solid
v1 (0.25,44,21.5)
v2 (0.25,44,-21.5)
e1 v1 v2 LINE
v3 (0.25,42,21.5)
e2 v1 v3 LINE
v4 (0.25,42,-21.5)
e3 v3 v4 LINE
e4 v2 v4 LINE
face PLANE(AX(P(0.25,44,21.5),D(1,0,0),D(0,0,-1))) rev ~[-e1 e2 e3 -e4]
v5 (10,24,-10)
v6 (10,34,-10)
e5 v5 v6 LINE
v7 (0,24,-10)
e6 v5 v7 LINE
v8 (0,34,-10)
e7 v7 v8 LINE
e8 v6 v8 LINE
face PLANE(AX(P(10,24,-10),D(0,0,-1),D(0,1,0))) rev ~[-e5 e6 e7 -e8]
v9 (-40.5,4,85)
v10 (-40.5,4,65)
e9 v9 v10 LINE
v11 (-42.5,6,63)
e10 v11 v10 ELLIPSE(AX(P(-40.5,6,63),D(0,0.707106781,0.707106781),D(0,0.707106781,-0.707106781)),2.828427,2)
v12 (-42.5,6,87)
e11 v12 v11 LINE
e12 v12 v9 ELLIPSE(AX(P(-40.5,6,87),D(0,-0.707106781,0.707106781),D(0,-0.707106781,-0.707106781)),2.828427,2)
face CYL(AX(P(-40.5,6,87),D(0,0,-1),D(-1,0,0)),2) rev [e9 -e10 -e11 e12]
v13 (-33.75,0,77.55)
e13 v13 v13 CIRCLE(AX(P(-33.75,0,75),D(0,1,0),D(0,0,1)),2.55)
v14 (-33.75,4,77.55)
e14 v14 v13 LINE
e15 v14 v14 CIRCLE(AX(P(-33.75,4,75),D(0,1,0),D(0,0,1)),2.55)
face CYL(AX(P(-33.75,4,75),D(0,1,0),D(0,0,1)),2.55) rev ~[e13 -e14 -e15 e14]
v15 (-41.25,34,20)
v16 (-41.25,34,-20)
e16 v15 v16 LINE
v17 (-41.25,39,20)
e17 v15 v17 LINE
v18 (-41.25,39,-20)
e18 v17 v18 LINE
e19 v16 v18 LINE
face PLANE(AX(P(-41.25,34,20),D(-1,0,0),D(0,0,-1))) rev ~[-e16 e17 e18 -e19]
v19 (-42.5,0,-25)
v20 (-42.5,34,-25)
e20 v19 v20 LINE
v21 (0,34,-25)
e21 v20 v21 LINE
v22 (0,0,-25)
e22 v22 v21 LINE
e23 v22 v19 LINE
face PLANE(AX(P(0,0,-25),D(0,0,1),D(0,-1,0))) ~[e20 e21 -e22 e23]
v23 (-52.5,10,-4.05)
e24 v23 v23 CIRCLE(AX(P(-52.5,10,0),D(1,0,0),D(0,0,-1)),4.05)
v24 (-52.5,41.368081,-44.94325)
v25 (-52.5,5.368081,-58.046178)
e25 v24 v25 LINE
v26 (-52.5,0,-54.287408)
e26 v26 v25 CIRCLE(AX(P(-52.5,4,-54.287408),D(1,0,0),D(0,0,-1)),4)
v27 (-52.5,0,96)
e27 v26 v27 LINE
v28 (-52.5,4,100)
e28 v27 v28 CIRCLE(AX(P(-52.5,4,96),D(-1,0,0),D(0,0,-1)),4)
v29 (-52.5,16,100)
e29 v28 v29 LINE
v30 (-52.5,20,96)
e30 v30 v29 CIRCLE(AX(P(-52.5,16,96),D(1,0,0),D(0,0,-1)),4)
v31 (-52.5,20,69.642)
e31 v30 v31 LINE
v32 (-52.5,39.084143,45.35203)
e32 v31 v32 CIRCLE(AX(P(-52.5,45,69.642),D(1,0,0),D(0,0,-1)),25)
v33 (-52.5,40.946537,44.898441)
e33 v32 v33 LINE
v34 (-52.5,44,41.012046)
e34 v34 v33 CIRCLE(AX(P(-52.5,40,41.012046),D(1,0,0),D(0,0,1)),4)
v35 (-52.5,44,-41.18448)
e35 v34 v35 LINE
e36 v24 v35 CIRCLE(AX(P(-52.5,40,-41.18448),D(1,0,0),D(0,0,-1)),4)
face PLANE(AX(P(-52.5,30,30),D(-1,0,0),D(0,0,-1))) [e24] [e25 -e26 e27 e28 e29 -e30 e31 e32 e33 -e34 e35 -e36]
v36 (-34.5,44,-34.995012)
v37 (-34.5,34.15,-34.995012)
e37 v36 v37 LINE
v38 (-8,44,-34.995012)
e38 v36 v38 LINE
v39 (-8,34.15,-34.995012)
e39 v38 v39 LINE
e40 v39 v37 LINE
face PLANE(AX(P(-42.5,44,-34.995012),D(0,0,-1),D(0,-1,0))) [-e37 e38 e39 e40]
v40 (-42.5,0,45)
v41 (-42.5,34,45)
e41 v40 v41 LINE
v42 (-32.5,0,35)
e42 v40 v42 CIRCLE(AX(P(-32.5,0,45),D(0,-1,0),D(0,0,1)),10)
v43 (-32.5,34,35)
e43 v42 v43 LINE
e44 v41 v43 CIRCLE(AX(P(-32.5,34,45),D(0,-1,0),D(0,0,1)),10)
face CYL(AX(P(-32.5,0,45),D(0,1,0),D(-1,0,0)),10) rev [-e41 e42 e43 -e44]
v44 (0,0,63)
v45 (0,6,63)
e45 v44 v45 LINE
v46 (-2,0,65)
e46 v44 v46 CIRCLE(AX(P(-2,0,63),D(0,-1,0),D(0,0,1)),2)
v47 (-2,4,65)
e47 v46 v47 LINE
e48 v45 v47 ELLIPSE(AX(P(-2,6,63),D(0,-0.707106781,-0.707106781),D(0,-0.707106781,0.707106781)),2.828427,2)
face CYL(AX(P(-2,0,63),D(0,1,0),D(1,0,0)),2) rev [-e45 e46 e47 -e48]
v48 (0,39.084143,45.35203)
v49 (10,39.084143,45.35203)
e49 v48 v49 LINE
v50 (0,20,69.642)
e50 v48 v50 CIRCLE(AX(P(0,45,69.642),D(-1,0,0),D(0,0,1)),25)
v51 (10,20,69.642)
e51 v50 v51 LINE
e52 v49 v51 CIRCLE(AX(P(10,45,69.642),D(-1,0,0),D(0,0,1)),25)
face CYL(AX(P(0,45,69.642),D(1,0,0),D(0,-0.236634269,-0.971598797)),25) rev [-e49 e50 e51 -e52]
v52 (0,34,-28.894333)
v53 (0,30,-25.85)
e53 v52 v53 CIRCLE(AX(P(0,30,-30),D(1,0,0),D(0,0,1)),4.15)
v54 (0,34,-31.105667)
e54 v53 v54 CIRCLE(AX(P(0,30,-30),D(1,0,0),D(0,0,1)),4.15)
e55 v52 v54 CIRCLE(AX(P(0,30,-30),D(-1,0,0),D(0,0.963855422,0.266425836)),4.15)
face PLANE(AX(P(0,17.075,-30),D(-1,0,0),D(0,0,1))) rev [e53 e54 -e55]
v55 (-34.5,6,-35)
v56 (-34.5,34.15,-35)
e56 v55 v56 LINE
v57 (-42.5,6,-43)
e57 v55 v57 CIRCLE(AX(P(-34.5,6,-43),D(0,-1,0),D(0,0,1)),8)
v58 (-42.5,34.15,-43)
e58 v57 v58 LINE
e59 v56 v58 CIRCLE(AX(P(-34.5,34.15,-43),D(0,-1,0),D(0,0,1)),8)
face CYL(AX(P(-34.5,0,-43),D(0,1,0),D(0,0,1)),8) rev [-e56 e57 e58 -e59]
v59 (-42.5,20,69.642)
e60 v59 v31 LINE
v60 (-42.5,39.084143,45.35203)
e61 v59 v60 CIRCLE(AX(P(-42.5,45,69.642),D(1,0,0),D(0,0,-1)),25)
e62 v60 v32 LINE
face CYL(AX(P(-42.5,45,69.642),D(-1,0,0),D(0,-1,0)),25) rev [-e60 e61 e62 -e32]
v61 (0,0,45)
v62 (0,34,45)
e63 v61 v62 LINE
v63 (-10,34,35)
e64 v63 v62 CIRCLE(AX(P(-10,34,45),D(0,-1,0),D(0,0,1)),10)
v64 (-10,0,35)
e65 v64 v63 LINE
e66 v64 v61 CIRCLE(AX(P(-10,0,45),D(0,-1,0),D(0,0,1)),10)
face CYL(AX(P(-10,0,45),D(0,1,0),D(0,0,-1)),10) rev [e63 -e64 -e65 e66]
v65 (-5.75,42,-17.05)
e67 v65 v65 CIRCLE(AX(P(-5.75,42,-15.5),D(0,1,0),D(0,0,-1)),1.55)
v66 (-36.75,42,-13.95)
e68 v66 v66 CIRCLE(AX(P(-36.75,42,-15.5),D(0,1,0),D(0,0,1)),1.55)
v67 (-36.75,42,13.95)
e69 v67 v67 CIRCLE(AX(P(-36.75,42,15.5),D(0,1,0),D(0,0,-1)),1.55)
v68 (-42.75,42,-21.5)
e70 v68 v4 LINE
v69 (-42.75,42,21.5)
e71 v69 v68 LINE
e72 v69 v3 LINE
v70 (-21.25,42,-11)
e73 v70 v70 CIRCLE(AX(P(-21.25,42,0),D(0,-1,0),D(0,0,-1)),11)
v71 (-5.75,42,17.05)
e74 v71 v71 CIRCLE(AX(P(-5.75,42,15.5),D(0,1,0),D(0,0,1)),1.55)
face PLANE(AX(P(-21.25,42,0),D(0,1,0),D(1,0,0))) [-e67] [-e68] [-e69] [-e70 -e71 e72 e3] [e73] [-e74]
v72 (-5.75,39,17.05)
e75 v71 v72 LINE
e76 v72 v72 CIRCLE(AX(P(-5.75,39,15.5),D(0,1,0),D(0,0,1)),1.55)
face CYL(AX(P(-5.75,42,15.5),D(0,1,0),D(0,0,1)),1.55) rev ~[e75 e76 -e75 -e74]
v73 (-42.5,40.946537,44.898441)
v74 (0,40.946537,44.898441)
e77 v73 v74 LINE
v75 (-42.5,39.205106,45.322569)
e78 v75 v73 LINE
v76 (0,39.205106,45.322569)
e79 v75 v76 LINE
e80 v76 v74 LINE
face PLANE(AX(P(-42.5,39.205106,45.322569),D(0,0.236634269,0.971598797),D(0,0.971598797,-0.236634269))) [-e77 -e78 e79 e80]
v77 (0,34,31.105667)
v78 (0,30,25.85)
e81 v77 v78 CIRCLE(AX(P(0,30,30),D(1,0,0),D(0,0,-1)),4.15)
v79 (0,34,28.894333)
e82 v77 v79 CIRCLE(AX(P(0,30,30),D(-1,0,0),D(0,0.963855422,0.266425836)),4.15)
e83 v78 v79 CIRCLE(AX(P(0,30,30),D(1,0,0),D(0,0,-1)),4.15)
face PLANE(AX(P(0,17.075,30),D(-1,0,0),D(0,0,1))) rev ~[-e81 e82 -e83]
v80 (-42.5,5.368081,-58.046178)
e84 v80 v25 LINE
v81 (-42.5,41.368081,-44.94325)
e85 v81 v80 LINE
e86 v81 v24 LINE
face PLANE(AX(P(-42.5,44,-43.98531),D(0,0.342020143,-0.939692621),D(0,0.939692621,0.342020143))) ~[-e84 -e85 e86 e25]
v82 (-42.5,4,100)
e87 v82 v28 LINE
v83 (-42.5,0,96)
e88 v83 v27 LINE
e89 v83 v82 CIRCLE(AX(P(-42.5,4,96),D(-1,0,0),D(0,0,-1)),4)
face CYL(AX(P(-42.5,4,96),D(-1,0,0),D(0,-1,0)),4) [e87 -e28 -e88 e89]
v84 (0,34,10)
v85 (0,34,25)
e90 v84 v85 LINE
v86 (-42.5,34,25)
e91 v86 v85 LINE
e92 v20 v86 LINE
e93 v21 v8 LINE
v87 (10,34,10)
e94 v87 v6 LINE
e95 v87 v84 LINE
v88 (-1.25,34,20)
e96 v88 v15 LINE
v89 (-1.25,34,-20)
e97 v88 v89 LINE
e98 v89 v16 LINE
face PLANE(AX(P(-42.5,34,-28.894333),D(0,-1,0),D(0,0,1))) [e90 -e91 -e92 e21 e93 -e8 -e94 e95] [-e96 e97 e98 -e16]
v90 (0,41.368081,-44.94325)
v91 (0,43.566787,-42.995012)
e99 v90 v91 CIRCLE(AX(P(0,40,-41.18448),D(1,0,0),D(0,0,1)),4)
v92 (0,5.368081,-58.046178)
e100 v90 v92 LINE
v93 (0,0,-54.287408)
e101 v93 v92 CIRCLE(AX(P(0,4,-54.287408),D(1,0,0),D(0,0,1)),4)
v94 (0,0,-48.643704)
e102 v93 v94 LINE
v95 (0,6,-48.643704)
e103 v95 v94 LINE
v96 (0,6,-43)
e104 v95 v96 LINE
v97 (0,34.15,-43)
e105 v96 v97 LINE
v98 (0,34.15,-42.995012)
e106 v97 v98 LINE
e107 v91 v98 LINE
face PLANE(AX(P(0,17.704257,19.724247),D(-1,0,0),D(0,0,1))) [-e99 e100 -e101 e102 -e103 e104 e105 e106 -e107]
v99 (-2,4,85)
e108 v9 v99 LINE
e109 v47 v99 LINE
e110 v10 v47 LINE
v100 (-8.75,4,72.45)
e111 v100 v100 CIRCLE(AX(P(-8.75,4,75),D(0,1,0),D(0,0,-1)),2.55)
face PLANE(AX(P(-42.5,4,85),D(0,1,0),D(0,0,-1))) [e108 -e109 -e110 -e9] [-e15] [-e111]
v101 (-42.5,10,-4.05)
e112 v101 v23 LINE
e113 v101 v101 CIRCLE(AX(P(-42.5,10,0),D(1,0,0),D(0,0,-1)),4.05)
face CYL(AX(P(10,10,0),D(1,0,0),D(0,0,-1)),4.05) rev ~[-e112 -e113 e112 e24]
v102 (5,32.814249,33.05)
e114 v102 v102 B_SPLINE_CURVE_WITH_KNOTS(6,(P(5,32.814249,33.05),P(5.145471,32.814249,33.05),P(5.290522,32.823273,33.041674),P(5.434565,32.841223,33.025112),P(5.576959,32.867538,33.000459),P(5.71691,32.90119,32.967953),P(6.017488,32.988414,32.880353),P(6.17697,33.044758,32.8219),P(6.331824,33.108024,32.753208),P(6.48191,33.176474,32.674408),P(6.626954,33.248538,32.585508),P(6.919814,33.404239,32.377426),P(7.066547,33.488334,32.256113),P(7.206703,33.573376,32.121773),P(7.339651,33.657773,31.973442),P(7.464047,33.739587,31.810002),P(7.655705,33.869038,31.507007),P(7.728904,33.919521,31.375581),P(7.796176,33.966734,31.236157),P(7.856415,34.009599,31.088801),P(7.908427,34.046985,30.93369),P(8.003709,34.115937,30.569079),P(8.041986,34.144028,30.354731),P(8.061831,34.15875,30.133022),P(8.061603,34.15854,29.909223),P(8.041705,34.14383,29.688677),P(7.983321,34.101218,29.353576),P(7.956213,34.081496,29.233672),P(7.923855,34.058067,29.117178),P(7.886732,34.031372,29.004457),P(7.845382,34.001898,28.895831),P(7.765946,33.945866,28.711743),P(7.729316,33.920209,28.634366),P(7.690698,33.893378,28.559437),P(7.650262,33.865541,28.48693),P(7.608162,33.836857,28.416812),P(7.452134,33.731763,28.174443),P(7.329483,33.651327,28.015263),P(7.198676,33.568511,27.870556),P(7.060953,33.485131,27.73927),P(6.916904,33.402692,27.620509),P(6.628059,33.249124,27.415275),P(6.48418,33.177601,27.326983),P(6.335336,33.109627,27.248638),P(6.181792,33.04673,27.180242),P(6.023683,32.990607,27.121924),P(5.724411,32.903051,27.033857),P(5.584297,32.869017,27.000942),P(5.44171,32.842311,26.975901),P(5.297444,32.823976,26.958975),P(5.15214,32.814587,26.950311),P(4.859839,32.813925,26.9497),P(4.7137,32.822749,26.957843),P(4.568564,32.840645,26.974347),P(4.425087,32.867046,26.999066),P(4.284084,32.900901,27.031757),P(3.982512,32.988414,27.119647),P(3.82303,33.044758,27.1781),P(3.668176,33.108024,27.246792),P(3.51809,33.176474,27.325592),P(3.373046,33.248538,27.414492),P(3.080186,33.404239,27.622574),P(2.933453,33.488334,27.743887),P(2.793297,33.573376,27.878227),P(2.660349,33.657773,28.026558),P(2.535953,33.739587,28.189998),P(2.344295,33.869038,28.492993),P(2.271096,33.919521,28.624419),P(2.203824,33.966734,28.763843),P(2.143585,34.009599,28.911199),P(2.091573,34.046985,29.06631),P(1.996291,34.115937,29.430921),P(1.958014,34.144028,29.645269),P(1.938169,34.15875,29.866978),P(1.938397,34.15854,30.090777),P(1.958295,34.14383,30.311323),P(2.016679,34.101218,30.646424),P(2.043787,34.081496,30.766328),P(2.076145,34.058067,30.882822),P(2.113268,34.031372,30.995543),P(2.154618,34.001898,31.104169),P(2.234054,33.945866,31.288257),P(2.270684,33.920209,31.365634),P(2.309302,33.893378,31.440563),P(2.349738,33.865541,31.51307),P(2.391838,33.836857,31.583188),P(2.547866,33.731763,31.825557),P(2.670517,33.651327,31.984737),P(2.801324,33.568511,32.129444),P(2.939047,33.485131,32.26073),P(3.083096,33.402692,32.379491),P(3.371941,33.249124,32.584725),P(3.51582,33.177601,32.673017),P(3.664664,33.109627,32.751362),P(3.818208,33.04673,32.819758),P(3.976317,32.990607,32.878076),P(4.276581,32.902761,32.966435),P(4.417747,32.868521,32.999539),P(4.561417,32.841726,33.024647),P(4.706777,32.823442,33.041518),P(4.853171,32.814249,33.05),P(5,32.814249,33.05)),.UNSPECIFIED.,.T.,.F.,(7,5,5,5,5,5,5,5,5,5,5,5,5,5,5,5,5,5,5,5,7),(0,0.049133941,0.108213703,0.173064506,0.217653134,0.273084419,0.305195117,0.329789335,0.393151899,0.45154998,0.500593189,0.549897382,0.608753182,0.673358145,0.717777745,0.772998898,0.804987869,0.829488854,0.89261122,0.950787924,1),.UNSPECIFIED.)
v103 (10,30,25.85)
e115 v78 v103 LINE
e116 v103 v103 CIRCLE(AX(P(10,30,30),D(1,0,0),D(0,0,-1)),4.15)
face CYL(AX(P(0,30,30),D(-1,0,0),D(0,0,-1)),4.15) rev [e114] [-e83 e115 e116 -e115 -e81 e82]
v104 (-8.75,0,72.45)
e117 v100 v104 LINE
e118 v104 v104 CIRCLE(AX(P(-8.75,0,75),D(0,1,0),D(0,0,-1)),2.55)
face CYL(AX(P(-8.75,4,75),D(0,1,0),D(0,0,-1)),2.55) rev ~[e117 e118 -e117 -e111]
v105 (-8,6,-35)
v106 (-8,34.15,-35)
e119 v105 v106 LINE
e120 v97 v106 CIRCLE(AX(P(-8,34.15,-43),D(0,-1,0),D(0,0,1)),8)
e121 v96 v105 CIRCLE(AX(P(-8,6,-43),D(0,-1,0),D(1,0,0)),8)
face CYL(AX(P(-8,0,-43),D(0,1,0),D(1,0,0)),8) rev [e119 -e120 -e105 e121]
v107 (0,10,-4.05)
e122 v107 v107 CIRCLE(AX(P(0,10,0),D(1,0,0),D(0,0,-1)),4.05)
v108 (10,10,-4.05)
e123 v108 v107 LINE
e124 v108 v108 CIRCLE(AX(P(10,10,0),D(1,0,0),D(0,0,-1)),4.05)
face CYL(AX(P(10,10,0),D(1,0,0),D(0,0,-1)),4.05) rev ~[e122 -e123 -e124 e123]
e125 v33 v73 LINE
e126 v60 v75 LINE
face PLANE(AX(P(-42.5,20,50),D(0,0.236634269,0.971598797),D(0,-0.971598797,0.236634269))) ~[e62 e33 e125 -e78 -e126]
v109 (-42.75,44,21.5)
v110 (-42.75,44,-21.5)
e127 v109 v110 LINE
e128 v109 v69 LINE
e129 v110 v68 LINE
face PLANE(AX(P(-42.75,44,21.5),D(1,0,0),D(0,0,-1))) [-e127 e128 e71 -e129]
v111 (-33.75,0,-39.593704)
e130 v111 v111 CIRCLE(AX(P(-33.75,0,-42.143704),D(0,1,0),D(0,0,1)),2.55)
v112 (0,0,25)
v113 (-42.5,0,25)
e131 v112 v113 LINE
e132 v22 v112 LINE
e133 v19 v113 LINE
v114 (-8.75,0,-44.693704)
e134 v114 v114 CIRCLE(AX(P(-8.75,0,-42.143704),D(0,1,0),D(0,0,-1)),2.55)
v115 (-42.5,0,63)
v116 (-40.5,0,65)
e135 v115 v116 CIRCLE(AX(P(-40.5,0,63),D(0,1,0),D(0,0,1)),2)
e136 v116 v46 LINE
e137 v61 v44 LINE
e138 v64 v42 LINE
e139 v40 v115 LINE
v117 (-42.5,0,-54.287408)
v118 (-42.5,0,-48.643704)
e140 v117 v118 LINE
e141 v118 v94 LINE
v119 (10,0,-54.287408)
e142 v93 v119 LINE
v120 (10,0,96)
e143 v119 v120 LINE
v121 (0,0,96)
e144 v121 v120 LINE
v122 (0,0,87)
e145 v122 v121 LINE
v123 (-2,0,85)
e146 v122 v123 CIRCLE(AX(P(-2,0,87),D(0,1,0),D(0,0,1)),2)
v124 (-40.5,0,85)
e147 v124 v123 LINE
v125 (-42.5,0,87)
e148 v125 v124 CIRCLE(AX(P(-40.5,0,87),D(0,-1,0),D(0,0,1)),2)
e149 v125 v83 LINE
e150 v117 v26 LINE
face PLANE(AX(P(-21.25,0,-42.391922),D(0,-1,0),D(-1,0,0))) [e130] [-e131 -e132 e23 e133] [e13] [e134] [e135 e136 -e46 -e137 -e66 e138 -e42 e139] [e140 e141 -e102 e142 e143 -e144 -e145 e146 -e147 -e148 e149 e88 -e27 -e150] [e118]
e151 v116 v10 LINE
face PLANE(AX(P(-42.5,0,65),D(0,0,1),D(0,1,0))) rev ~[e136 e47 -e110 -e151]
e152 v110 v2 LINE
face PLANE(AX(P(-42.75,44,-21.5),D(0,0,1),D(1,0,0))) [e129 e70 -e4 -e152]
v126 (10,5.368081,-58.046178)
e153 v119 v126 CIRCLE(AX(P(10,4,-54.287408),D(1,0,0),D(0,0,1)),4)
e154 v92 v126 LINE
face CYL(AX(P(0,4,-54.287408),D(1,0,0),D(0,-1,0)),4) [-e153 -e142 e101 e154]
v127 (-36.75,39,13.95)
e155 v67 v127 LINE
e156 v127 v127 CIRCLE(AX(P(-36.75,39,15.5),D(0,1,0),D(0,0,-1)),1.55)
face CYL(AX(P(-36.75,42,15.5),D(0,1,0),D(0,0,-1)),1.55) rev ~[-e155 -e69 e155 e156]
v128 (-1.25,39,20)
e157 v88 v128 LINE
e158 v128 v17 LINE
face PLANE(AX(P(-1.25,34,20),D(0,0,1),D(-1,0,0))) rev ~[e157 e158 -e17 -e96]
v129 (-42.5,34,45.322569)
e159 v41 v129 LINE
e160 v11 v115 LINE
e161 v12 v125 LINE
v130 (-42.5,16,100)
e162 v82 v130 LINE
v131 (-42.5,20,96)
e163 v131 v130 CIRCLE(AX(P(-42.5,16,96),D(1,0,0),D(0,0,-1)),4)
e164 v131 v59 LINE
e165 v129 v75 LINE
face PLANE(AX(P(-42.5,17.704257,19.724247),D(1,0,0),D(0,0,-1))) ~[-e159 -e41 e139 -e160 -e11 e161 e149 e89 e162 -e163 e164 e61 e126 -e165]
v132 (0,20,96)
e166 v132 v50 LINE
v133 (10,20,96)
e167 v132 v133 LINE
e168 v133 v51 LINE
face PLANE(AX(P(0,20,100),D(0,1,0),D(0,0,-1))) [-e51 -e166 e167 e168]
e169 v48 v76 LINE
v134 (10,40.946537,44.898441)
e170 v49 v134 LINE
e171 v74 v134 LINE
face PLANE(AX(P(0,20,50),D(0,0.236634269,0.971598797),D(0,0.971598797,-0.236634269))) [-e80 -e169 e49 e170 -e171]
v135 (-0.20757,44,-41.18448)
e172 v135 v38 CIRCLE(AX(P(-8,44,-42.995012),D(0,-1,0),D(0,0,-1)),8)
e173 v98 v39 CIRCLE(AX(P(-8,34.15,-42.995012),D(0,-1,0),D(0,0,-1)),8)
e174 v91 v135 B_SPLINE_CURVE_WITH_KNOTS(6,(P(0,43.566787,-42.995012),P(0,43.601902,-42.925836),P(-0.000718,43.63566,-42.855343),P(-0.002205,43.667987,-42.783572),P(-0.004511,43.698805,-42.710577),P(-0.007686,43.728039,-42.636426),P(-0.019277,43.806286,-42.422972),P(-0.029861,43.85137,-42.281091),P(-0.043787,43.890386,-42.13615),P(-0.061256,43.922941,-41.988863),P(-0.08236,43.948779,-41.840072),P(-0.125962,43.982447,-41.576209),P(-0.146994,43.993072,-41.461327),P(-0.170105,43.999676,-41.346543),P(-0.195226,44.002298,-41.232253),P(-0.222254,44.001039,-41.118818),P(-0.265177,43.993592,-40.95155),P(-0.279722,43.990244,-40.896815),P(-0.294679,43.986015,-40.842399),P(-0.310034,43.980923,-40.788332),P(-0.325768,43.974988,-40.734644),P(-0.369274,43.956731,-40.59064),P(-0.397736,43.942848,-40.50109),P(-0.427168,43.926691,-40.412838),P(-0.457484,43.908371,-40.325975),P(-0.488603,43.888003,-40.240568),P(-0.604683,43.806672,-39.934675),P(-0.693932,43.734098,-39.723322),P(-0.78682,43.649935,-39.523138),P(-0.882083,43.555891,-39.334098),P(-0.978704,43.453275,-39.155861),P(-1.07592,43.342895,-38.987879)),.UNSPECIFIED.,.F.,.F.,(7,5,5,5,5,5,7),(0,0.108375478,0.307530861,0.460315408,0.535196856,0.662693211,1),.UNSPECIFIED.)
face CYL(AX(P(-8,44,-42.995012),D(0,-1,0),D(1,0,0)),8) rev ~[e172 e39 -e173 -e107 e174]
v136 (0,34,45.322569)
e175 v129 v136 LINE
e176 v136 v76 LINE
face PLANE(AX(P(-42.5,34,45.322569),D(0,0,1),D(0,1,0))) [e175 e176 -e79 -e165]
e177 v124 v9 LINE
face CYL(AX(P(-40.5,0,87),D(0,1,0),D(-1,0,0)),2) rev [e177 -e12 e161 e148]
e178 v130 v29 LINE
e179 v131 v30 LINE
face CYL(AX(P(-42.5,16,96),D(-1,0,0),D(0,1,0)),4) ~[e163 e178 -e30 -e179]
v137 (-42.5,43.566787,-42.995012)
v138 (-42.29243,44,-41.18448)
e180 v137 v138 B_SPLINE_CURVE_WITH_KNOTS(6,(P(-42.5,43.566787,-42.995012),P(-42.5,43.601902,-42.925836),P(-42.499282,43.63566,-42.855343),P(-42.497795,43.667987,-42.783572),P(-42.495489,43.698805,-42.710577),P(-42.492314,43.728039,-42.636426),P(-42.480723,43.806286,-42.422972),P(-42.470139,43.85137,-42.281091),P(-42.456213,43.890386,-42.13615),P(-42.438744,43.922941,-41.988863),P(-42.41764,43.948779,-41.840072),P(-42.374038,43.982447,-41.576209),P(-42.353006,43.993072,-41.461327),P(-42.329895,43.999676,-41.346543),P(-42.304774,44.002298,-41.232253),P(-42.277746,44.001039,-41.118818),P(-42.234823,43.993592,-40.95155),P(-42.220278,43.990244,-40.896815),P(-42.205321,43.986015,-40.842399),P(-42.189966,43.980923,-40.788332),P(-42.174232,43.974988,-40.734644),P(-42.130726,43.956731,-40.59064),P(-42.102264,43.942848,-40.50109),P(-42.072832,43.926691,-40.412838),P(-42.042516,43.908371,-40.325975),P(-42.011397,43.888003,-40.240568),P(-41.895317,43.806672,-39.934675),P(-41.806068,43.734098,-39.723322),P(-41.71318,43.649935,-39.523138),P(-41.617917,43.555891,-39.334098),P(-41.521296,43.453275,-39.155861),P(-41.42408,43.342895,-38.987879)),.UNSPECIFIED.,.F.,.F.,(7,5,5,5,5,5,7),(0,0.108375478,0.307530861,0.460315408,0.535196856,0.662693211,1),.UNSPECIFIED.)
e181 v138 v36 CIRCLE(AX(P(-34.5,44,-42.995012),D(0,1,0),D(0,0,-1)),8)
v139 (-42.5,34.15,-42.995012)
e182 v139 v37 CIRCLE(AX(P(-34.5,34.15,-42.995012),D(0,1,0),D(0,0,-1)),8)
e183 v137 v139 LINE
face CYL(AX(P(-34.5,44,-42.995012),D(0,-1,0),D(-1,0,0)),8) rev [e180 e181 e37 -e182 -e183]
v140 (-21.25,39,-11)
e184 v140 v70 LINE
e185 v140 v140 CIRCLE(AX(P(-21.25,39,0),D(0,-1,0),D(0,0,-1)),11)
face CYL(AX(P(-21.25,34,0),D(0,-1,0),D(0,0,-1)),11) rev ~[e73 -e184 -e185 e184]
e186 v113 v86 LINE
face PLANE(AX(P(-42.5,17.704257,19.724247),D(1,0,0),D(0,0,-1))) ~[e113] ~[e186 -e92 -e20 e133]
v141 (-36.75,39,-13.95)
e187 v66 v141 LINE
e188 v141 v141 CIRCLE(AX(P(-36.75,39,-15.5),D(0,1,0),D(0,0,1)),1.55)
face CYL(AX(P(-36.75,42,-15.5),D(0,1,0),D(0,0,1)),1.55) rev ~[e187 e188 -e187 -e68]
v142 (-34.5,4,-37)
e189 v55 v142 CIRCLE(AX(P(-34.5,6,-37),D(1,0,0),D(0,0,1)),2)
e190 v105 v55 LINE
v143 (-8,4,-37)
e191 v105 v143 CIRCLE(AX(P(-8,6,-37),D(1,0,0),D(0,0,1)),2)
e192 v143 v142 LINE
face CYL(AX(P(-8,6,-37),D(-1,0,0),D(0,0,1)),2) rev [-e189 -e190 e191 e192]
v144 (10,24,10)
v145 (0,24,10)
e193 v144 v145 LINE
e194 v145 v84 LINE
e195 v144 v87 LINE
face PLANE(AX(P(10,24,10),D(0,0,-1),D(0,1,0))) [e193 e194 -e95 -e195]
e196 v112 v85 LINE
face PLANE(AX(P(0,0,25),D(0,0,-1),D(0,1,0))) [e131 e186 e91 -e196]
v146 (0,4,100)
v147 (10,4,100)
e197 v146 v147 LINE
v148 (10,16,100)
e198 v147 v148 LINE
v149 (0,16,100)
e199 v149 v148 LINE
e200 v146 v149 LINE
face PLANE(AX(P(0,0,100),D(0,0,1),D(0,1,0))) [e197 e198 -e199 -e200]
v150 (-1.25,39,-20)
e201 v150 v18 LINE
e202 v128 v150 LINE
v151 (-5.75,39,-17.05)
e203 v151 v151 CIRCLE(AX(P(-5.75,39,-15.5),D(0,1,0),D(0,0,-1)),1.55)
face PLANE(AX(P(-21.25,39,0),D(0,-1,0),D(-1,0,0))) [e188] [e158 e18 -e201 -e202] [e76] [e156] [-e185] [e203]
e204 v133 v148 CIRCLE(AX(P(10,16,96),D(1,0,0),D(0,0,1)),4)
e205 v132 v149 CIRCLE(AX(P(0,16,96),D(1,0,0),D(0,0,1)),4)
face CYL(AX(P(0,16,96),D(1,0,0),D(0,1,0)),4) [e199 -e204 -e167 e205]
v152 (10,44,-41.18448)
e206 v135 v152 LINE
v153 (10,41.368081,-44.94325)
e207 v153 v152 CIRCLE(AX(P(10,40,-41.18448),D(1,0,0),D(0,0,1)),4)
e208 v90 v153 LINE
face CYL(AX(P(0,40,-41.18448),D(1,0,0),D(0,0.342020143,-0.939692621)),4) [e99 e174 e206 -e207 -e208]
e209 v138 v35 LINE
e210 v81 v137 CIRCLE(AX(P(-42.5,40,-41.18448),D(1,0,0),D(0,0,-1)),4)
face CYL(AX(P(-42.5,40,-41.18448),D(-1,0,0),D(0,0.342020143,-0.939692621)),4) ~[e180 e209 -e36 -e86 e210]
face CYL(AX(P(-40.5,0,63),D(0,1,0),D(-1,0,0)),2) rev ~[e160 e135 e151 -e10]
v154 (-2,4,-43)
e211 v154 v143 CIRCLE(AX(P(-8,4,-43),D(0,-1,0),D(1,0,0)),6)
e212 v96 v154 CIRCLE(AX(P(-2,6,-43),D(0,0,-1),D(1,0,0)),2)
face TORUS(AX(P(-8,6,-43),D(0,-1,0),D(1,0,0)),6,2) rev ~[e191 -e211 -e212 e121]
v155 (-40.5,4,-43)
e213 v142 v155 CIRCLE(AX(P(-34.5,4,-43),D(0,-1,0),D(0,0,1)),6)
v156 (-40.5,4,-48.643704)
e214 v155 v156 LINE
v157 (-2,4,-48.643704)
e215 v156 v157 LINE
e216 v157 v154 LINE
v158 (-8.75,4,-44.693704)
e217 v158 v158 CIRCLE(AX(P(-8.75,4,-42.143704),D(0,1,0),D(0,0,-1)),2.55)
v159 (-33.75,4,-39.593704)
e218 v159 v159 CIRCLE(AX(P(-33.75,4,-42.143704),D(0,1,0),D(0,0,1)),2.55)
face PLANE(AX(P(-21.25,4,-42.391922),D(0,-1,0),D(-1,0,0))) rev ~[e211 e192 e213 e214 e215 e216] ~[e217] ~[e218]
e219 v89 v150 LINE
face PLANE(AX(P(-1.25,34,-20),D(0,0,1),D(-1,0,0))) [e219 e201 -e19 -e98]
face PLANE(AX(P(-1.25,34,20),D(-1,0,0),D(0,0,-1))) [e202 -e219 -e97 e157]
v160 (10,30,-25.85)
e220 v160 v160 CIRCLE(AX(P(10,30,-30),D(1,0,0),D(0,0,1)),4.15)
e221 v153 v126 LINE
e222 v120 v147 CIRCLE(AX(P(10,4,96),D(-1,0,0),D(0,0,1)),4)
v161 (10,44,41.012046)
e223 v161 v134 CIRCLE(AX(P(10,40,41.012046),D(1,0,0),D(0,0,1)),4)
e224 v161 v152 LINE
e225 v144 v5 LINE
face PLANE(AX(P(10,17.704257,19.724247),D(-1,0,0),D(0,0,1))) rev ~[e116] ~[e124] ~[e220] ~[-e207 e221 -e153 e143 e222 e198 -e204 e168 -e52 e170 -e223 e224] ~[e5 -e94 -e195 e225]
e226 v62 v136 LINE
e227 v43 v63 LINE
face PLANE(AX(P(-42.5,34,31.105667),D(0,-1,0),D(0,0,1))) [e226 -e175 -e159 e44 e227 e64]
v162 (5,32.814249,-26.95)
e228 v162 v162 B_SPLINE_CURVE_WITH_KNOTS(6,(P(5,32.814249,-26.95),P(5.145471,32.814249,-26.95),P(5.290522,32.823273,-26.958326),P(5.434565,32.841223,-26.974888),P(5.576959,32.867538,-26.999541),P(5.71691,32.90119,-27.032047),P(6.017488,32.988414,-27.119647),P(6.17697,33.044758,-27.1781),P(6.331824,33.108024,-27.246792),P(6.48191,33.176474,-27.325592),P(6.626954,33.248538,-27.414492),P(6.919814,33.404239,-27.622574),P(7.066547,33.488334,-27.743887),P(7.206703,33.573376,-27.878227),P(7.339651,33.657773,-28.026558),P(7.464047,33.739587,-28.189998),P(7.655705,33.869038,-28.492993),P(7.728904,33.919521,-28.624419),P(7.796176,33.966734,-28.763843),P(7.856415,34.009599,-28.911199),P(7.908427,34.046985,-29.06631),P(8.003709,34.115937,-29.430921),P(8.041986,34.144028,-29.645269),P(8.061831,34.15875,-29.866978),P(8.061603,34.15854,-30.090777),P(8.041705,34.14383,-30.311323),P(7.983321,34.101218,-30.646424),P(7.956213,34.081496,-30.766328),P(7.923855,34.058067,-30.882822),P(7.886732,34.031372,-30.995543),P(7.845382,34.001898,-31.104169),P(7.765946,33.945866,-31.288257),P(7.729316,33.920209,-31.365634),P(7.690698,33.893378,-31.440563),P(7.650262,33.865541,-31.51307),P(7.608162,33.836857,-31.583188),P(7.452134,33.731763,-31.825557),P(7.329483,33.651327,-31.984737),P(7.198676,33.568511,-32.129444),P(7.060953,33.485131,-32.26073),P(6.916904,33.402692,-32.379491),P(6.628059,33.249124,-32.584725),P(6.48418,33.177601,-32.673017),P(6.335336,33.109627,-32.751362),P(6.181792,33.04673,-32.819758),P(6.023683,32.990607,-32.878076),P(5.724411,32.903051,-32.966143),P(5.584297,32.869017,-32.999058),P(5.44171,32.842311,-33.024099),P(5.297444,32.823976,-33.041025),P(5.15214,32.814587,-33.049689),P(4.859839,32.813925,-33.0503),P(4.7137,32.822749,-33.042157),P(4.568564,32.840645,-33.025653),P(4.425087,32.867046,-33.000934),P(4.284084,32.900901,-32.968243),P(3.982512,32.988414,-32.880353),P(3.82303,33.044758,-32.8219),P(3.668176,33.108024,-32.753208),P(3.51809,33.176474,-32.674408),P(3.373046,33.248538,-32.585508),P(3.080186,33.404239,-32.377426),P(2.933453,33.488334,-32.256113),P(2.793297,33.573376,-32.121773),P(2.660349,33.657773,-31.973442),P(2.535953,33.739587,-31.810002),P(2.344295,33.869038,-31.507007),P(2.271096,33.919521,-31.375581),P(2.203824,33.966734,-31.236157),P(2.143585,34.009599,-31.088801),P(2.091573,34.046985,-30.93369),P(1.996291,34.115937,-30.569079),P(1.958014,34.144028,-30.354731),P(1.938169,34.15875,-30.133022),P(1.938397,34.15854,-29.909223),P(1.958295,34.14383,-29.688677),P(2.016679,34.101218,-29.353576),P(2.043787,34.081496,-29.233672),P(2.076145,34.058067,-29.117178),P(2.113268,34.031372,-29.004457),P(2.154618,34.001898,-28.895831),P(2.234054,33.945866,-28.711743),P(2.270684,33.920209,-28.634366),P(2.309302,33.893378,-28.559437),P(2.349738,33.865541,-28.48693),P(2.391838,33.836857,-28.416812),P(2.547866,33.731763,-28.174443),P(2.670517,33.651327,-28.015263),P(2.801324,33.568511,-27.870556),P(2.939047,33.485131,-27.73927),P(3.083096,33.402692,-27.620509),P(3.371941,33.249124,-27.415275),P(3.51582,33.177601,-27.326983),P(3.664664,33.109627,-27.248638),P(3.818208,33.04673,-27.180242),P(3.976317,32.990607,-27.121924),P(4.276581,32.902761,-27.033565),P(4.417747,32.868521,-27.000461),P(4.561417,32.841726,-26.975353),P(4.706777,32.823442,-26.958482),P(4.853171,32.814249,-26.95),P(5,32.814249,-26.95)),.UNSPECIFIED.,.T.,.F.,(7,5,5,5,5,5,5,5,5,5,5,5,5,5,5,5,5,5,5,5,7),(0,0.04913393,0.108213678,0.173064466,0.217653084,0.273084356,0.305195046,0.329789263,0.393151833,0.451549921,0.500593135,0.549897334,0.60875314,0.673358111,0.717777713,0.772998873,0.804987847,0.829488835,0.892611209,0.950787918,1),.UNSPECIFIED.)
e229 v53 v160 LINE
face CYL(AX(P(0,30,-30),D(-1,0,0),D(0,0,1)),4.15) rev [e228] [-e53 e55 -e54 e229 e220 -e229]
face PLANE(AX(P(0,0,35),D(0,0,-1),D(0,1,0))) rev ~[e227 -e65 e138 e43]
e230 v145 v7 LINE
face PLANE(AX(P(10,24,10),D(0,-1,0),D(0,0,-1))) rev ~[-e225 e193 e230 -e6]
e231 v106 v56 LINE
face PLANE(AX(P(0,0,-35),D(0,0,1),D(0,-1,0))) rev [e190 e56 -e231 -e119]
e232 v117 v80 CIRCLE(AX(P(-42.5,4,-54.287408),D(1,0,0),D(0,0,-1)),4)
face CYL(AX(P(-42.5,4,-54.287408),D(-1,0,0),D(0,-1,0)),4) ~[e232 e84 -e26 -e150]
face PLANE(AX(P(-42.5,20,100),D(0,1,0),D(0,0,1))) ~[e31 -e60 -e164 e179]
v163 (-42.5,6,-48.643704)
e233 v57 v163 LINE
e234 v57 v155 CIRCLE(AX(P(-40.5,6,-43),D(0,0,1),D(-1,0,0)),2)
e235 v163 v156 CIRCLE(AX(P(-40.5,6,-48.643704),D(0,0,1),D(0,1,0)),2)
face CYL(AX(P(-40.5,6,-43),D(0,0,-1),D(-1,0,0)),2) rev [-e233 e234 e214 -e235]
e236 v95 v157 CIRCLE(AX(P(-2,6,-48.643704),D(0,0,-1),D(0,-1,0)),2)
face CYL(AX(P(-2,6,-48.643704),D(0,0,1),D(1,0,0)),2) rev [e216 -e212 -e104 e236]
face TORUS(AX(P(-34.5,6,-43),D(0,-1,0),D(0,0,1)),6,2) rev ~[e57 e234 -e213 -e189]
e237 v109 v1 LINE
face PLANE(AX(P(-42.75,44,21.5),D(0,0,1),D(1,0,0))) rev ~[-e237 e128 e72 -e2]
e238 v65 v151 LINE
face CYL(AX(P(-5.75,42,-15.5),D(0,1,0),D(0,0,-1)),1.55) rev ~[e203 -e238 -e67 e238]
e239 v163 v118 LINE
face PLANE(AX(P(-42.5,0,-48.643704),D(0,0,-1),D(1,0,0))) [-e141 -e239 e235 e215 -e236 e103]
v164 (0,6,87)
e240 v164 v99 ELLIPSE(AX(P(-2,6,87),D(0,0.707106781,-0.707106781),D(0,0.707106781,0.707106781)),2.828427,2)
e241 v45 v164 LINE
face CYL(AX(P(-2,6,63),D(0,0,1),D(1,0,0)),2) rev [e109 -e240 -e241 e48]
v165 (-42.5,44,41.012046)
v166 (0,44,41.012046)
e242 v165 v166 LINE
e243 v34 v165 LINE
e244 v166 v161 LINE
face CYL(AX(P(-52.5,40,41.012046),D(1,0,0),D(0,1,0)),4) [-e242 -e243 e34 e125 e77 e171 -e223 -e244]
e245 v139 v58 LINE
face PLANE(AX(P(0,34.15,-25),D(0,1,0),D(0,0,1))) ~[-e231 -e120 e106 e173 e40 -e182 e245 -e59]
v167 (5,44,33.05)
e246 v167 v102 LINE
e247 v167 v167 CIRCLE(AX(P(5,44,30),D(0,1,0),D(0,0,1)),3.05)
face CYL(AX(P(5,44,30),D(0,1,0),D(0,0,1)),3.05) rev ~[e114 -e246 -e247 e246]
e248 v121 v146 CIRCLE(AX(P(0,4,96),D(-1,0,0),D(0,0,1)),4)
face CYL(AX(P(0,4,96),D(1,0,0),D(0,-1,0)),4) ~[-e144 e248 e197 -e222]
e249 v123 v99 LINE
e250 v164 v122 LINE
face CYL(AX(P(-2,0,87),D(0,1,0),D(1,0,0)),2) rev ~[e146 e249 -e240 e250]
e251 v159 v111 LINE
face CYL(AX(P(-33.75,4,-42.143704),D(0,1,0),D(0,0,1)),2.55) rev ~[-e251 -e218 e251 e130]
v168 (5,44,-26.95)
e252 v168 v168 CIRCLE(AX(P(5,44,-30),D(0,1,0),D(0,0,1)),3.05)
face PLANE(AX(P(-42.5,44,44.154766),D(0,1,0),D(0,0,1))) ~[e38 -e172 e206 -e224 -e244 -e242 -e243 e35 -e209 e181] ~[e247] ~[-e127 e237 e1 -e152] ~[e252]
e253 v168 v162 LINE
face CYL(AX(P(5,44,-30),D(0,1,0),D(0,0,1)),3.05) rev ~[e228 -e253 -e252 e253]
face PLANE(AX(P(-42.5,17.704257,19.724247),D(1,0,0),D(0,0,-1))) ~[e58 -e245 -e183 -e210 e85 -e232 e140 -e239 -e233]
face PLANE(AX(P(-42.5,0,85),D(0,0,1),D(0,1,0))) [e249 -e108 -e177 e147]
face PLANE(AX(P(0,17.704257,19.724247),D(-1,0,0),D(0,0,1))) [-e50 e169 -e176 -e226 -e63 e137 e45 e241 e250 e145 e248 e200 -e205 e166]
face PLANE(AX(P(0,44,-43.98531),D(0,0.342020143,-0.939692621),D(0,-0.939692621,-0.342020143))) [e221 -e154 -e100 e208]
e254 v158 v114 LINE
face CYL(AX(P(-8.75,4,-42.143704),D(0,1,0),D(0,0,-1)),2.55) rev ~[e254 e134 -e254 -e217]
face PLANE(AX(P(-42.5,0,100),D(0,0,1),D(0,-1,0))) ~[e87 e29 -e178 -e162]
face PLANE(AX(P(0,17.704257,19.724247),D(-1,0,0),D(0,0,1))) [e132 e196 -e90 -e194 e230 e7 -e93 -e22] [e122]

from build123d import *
from build123d.topology import SkipClean

# Parameters (mm, degrees)
SKETCH3_R            = 4.15
BOSS_EXTRUDE2_DEPTH  = 10
FILLET1_R            = 4
BOSS_EXTRUDE3_START  = 42.5
BOSS_EXTRUDE3_DEPTH  = 42.5
FILLET1_OF_MIRROR1_R = 4
SKETCH5_W            = 20
SKETCH5_H            = 10
CUT_EXTRUDE1_DEPTH   = 10
SKETCH6_R            = 11
CUT_EXTRUDE2_DEPTH   = 10
SKETCH7_W            = 43
SKETCH7_H            = 43
CUT_EXTRUDE3_DEPTH   = 2
SKETCH8_R            = 1.55
CUT_EXTRUDE4_DEPTH   = 5
SKETCH9_W            = 10
SKETCH9_H            = 34.15
BOSS_EXTRUDE4_DEPTH  = 42.5
FILLET2_R            = 10
FILLET3_R            = 8
SKETCH10_R           = 4.15
BOSS_EXTRUDE5_DEPTH  = 10
SKETCH11_R           = 4.05
CUT_EXTRUDE5_DEPTH   = 77
FILLET4_R            = 25
FILLET5_R            = 4
FILLET6_R            = 4
SKETCH13_R           = 3.05
CUT_EXTRUDE6_DEPTH   = 12
SKETCH14_W           = 20
SKETCH14_H           = 4
BOSS_EXTRUDE6_DEPTH  = 42.5
FILLET7_R            = 2
SKETCH16_W           = 40
SKETCH16_H           = 40
CUT_EXTRUDE8_DEPTH   = 5
FILLET9_R            = 2
BOSS_EXTRUDE7_DEPTH  = 4
FILLET10_R           = 8
SKETCH18_R           = 2.55
CUT_EXTRUDE9_DEPTH   = 120.81756974
FILLET11_R           = 2


with BuildPart() as part:
    # Sketch3 → Boss-Extrude2 (new body)
    with BuildSketch(Plane(origin=(0, 0, 0), x_dir=(0, 0, -1), z_dir=(1, 0, 0))):
        Polygon((60, 0), (-100, 0), (-100, 20), (-50, 20), (-44.154765862, 44), (43.985309692, 44), align=None)
        with Locations((-30, 30)):
            Circle(SKETCH3_R, mode=Mode.SUBTRACT)
        with Locations(Location((30, 30, 0), (0, 0, 180))):
            Circle(SKETCH3_R, mode=Mode.SUBTRACT)
    boss_extrude2 = extrude(amount=BOSS_EXTRUDE2_DEPTH)

    # Fillet1
    fillet1_edges = [part.edges().sort_by_distance(p)[0] for p in [
        (5, 0, -60),
        (5, 0, 100),
        (5, 44, -43.985309692),
    ]]
    fillet(fillet1_edges, radius=FILLET1_R)

    # Sketch4 → Boss-Extrude3 (add)
    with BuildSketch(Plane.ZY.offset(BOSS_EXTRUDE3_START)):
        with BuildLine():
            Line((-34.995012035, 44), (-34.995012035, 34))
            Line((-34.995012035, 34), (-31.105667219, 34))
            ThreePointArc((-31.105667219, 34), (-30, 34.15), (-28.894332781, 34))
            Line((-28.894332781, 34), (28.894332781, 34))
            ThreePointArc((28.894332781, 34), (30, 34.15), (31.105667219, 34))
            Line((31.105667219, 34), (45.322569059, 34))
            Line((45.322569059, 34), (45.322569059, 39.205106235))
            Line((45.322569059, 39.205106235), (44.154765862, 44))
            Line((44.154765862, 44), (-34.995012035, 44))
        make_face()
    extrude(amount=-BOSS_EXTRUDE3_DEPTH)

    # Mirror1: Boss-Extrude2 across plane
    add(boss_extrude2.mirror(Plane.ZY.offset(21.25)))

    # Fillet1 of Mirror1
    fillet1_of_mirror1_edges = [part.edges().sort_by_distance(p)[0] for p in [
        (-47.5, 0, -60),
        (-47.5, 0, 100),
        (-47.5, 44, -43.985309692),
    ]]
    fillet(fillet1_of_mirror1_edges, radius=FILLET1_OF_MIRROR1_R)

    # Sketch5 → Cut-Extrude1 (cut)
    with SkipClean():  # the faces are left unmerged after this step: merging them gives an invalid solid
        with BuildSketch(Plane(origin=(10, 0, 0), x_dir=(0, 0, -1), z_dir=(1, 0, 0))):
            with Locations((0, 29)):
                Rectangle(SKETCH5_W, SKETCH5_H)
        extrude(amount=-CUT_EXTRUDE1_DEPTH, mode=Mode.SUBTRACT)

    # Sketch6 → Cut-Extrude2 (cut)
    with SkipClean():  # the faces are left unmerged after this step: merging them gives an invalid solid
        with BuildSketch(Plane.XZ.offset(-34)):
            with Locations(Location((-21.25, 0, 0), (0, 0, 270))):
                Circle(SKETCH6_R)
        extrude(amount=-CUT_EXTRUDE2_DEPTH, mode=Mode.SUBTRACT)

    # Sketch7 → Cut-Extrude3 (cut)
    with SkipClean():  # the faces are left unmerged after this step: merging them gives an invalid solid
        with BuildSketch(Plane(origin=(0, 44, 0), x_dir=(1, 0, 0), z_dir=(0, 1, 0))):
            with Locations((-21.25, 0)):
                Rectangle(SKETCH7_W, SKETCH7_H)
        extrude(amount=-CUT_EXTRUDE3_DEPTH, mode=Mode.SUBTRACT)

    # Sketch8 → Cut-Extrude4 (cut)
    with SkipClean():  # the faces are left unmerged after this step: merging them gives an invalid solid
        with BuildSketch(Plane(origin=(0, 42, 0), x_dir=(1, 0, 0), z_dir=(0, 1, 0))):
            with Locations(Location((-36.75, 15.5, 0), (0, 0, 270))):
                Circle(SKETCH8_R)
            with Locations(Location((-5.75, 15.5, 0), (0, 0, 90))):
                Circle(SKETCH8_R)
            with Locations(Location((-5.75, -15.5, 0), (0, 0, 270))):
                Circle(SKETCH8_R)
            with Locations(Location((-36.75, -15.5, 0), (0, 0, 90))):
                Circle(SKETCH8_R)
        extrude(amount=-CUT_EXTRUDE4_DEPTH, mode=Mode.SUBTRACT)

    # Sketch9 → Boss-Extrude4 (add)
    with SkipClean():  # the faces are left unmerged after this step: merging them gives an invalid solid
        with BuildSketch(Plane.ZY):
            with Locations((30, 17.075)):
                Rectangle(SKETCH9_W, SKETCH9_H)
        boss_extrude4 = extrude(amount=BOSS_EXTRUDE4_DEPTH)

    # Mirror2: Boss-Extrude4 across plane
    add(boss_extrude4.mirror(Plane(origin=(0, 0, 0), x_dir=(1, 0, 0), z_dir=(0, 0, -1))))

    # Fillet2
    fillet2_edges = [part.edges().sort_by_distance(p)[0] for p in [
        (0, 17, 35),
        (-42.5, 17, 35),
    ]]
    fillet(fillet2_edges, radius=FILLET2_R)

    # Fillet3
    fillet3_edges = [part.edges().sort_by_distance(p)[0] for p in [
        (0, 17.075, -35),
        (-42.5, 17.075, -35),
    ]]
    fillet(fillet3_edges, radius=FILLET3_R)

    # Sketch10 → Boss-Extrude5 (add)
    with BuildSketch(Plane.ZY.offset(52.5)):
        with Locations(Location((30, 30, 0), (0, 0, 180))):
            Circle(SKETCH10_R)
        with Locations((-30, 30)):
            Circle(SKETCH10_R)
    extrude(amount=-BOSS_EXTRUDE5_DEPTH)

    # Sketch11 → Cut-Extrude5 (cut)
    with BuildSketch(Plane(origin=(10, 0, 0), x_dir=(0, 0, -1), z_dir=(1, 0, 0))):
        with Locations((0, 10)):
            Circle(SKETCH11_R)
    extrude(amount=-CUT_EXTRUDE5_DEPTH, mode=Mode.SUBTRACT)

    # Fillet4
    fillet4_edges = [part.edges().sort_by_distance(p)[0] for p in [
        (5, 20, 50),
        (-47.5, 20, 50),
    ]]
    fillet(fillet4_edges, radius=FILLET4_R)

    # Fillet5
    fillet5_edges = [part.edges().sort_by_distance(p)[0] for p in [
        (5, 20, 100),
        (-47.5, 20, 100),
    ]]
    fillet(fillet5_edges, radius=FILLET5_R)

    # Fillet6
    fillet6_edges = [part.edges().sort_by_distance(p)[0] for p in [
        (-21.25, 44, 44.154765862),
    ]]
    fillet(fillet6_edges, radius=FILLET6_R)

    # Sketch13 → Cut-Extrude6 (cut)
    with BuildSketch(Plane(origin=(0, 44, 0), x_dir=(1, 0, 0), z_dir=(0, 1, 0))):
        with Locations(Location((5, -30, 0), (0, 0, 270))):
            Circle(SKETCH13_R)
        with Locations(Location((5, 30, 0), (0, 0, 270))):
            Circle(SKETCH13_R)
    extrude(amount=-CUT_EXTRUDE6_DEPTH, mode=Mode.SUBTRACT)

    # Sketch14 → Boss-Extrude6 (add)
    with BuildSketch(Plane(origin=(-42.5, 0, 0), x_dir=(0, 0, -1), z_dir=(1, 0, 0))):
        with Locations((-75, 2)):
            Rectangle(SKETCH14_W, SKETCH14_H)
    extrude(amount=BOSS_EXTRUDE6_DEPTH)

    # Fillet7
    fillet7_edges = [part.edges().sort_by_distance(p)[0] for p in [
        (0, 2, 65),
        (-42.5, 2, 65),
        (0, 2, 85),
        (-42.5, 2, 85),
    ]]
    fillet(fillet7_edges, radius=FILLET7_R)

    # Sketch16 → Cut-Extrude8 (cut)
    with BuildSketch(Plane(origin=(0, 34, 0), x_dir=(-1, 0, 0), z_dir=(0, -1, 0))):
        with Locations((21.25, 0)):
            Rectangle(SKETCH16_W, SKETCH16_H)
    extrude(amount=-CUT_EXTRUDE8_DEPTH, mode=Mode.SUBTRACT)

    # Fillet9
    fillet9_edges = [part.edges().sort_by_distance(p)[0] for p in [
        (0, 4, 75),
        (-42.5, 4, 75),
    ]]
    fillet(fillet9_edges, radius=FILLET9_R)

    # Sketch17 → Boss-Extrude7 (add)
    with BuildSketch(Plane(origin=(0, 0, 0), x_dir=(-1, 0, 0), z_dir=(0, -1, 0))):
        with BuildLine():
            Line((42.5, 48.643703987), (0, 48.643703987))
            Line((0, 48.643703987), (0, 43))
            ThreePointArc((0, 43), (2.343145751, 37.343145751), (8, 35))
            Line((8, 35), (34.5, 35))
            ThreePointArc((34.5, 35), (40.156854249, 37.343145751), (42.5, 43))
            Line((42.5, 43), (42.5, 48.643703987))
        make_face()
    extrude(amount=-BOSS_EXTRUDE7_DEPTH)

    # Fillet10
    fillet10_edges = [part.edges().sort_by_distance(p)[0] for p in [
        (0, 39.075, -34.995012035),
        (-42.5, 39.075, -34.995012035),
    ]]
    fillet(fillet10_edges, radius=FILLET10_R)

    # Sketch18 → Cut-Extrude9 (cut, through all)
    with BuildSketch(Plane(origin=(0, 4, 0), x_dir=(1, 0, 0), z_dir=(0, 1, 0))):
        with Locations(Location((-33.75, 42.143703987, 0), (0, 0, 270))):
            Circle(SKETCH18_R)
        with Locations(Location((-33.75, -75, 0), (0, 0, 270))):
            Circle(SKETCH18_R)
        with Locations(Location((-8.75, -75, 0), (0, 0, 90))):
            Circle(SKETCH18_R)
        with Locations(Location((-8.75, 42.143703987, 0), (0, 0, 90))):
            Circle(SKETCH18_R)
    extrude(amount=-CUT_EXTRUDE9_DEPTH, mode=Mode.SUBTRACT)

    # Fillet11
    fillet11_edges = [part.edges().sort_by_distance(p)[0] for p in [
        (-42.5, 4, -45.821851993),
        (-40.156854249, 4, -37.343145751),
        (-21.25, 4, -35),
        (-2.343145751, 4, -37.343145751),
        (0, 4, -45.821851993),
    ]]
    fillet(fillet11_edges, radius=FILLET11_R)


solid = part.part
